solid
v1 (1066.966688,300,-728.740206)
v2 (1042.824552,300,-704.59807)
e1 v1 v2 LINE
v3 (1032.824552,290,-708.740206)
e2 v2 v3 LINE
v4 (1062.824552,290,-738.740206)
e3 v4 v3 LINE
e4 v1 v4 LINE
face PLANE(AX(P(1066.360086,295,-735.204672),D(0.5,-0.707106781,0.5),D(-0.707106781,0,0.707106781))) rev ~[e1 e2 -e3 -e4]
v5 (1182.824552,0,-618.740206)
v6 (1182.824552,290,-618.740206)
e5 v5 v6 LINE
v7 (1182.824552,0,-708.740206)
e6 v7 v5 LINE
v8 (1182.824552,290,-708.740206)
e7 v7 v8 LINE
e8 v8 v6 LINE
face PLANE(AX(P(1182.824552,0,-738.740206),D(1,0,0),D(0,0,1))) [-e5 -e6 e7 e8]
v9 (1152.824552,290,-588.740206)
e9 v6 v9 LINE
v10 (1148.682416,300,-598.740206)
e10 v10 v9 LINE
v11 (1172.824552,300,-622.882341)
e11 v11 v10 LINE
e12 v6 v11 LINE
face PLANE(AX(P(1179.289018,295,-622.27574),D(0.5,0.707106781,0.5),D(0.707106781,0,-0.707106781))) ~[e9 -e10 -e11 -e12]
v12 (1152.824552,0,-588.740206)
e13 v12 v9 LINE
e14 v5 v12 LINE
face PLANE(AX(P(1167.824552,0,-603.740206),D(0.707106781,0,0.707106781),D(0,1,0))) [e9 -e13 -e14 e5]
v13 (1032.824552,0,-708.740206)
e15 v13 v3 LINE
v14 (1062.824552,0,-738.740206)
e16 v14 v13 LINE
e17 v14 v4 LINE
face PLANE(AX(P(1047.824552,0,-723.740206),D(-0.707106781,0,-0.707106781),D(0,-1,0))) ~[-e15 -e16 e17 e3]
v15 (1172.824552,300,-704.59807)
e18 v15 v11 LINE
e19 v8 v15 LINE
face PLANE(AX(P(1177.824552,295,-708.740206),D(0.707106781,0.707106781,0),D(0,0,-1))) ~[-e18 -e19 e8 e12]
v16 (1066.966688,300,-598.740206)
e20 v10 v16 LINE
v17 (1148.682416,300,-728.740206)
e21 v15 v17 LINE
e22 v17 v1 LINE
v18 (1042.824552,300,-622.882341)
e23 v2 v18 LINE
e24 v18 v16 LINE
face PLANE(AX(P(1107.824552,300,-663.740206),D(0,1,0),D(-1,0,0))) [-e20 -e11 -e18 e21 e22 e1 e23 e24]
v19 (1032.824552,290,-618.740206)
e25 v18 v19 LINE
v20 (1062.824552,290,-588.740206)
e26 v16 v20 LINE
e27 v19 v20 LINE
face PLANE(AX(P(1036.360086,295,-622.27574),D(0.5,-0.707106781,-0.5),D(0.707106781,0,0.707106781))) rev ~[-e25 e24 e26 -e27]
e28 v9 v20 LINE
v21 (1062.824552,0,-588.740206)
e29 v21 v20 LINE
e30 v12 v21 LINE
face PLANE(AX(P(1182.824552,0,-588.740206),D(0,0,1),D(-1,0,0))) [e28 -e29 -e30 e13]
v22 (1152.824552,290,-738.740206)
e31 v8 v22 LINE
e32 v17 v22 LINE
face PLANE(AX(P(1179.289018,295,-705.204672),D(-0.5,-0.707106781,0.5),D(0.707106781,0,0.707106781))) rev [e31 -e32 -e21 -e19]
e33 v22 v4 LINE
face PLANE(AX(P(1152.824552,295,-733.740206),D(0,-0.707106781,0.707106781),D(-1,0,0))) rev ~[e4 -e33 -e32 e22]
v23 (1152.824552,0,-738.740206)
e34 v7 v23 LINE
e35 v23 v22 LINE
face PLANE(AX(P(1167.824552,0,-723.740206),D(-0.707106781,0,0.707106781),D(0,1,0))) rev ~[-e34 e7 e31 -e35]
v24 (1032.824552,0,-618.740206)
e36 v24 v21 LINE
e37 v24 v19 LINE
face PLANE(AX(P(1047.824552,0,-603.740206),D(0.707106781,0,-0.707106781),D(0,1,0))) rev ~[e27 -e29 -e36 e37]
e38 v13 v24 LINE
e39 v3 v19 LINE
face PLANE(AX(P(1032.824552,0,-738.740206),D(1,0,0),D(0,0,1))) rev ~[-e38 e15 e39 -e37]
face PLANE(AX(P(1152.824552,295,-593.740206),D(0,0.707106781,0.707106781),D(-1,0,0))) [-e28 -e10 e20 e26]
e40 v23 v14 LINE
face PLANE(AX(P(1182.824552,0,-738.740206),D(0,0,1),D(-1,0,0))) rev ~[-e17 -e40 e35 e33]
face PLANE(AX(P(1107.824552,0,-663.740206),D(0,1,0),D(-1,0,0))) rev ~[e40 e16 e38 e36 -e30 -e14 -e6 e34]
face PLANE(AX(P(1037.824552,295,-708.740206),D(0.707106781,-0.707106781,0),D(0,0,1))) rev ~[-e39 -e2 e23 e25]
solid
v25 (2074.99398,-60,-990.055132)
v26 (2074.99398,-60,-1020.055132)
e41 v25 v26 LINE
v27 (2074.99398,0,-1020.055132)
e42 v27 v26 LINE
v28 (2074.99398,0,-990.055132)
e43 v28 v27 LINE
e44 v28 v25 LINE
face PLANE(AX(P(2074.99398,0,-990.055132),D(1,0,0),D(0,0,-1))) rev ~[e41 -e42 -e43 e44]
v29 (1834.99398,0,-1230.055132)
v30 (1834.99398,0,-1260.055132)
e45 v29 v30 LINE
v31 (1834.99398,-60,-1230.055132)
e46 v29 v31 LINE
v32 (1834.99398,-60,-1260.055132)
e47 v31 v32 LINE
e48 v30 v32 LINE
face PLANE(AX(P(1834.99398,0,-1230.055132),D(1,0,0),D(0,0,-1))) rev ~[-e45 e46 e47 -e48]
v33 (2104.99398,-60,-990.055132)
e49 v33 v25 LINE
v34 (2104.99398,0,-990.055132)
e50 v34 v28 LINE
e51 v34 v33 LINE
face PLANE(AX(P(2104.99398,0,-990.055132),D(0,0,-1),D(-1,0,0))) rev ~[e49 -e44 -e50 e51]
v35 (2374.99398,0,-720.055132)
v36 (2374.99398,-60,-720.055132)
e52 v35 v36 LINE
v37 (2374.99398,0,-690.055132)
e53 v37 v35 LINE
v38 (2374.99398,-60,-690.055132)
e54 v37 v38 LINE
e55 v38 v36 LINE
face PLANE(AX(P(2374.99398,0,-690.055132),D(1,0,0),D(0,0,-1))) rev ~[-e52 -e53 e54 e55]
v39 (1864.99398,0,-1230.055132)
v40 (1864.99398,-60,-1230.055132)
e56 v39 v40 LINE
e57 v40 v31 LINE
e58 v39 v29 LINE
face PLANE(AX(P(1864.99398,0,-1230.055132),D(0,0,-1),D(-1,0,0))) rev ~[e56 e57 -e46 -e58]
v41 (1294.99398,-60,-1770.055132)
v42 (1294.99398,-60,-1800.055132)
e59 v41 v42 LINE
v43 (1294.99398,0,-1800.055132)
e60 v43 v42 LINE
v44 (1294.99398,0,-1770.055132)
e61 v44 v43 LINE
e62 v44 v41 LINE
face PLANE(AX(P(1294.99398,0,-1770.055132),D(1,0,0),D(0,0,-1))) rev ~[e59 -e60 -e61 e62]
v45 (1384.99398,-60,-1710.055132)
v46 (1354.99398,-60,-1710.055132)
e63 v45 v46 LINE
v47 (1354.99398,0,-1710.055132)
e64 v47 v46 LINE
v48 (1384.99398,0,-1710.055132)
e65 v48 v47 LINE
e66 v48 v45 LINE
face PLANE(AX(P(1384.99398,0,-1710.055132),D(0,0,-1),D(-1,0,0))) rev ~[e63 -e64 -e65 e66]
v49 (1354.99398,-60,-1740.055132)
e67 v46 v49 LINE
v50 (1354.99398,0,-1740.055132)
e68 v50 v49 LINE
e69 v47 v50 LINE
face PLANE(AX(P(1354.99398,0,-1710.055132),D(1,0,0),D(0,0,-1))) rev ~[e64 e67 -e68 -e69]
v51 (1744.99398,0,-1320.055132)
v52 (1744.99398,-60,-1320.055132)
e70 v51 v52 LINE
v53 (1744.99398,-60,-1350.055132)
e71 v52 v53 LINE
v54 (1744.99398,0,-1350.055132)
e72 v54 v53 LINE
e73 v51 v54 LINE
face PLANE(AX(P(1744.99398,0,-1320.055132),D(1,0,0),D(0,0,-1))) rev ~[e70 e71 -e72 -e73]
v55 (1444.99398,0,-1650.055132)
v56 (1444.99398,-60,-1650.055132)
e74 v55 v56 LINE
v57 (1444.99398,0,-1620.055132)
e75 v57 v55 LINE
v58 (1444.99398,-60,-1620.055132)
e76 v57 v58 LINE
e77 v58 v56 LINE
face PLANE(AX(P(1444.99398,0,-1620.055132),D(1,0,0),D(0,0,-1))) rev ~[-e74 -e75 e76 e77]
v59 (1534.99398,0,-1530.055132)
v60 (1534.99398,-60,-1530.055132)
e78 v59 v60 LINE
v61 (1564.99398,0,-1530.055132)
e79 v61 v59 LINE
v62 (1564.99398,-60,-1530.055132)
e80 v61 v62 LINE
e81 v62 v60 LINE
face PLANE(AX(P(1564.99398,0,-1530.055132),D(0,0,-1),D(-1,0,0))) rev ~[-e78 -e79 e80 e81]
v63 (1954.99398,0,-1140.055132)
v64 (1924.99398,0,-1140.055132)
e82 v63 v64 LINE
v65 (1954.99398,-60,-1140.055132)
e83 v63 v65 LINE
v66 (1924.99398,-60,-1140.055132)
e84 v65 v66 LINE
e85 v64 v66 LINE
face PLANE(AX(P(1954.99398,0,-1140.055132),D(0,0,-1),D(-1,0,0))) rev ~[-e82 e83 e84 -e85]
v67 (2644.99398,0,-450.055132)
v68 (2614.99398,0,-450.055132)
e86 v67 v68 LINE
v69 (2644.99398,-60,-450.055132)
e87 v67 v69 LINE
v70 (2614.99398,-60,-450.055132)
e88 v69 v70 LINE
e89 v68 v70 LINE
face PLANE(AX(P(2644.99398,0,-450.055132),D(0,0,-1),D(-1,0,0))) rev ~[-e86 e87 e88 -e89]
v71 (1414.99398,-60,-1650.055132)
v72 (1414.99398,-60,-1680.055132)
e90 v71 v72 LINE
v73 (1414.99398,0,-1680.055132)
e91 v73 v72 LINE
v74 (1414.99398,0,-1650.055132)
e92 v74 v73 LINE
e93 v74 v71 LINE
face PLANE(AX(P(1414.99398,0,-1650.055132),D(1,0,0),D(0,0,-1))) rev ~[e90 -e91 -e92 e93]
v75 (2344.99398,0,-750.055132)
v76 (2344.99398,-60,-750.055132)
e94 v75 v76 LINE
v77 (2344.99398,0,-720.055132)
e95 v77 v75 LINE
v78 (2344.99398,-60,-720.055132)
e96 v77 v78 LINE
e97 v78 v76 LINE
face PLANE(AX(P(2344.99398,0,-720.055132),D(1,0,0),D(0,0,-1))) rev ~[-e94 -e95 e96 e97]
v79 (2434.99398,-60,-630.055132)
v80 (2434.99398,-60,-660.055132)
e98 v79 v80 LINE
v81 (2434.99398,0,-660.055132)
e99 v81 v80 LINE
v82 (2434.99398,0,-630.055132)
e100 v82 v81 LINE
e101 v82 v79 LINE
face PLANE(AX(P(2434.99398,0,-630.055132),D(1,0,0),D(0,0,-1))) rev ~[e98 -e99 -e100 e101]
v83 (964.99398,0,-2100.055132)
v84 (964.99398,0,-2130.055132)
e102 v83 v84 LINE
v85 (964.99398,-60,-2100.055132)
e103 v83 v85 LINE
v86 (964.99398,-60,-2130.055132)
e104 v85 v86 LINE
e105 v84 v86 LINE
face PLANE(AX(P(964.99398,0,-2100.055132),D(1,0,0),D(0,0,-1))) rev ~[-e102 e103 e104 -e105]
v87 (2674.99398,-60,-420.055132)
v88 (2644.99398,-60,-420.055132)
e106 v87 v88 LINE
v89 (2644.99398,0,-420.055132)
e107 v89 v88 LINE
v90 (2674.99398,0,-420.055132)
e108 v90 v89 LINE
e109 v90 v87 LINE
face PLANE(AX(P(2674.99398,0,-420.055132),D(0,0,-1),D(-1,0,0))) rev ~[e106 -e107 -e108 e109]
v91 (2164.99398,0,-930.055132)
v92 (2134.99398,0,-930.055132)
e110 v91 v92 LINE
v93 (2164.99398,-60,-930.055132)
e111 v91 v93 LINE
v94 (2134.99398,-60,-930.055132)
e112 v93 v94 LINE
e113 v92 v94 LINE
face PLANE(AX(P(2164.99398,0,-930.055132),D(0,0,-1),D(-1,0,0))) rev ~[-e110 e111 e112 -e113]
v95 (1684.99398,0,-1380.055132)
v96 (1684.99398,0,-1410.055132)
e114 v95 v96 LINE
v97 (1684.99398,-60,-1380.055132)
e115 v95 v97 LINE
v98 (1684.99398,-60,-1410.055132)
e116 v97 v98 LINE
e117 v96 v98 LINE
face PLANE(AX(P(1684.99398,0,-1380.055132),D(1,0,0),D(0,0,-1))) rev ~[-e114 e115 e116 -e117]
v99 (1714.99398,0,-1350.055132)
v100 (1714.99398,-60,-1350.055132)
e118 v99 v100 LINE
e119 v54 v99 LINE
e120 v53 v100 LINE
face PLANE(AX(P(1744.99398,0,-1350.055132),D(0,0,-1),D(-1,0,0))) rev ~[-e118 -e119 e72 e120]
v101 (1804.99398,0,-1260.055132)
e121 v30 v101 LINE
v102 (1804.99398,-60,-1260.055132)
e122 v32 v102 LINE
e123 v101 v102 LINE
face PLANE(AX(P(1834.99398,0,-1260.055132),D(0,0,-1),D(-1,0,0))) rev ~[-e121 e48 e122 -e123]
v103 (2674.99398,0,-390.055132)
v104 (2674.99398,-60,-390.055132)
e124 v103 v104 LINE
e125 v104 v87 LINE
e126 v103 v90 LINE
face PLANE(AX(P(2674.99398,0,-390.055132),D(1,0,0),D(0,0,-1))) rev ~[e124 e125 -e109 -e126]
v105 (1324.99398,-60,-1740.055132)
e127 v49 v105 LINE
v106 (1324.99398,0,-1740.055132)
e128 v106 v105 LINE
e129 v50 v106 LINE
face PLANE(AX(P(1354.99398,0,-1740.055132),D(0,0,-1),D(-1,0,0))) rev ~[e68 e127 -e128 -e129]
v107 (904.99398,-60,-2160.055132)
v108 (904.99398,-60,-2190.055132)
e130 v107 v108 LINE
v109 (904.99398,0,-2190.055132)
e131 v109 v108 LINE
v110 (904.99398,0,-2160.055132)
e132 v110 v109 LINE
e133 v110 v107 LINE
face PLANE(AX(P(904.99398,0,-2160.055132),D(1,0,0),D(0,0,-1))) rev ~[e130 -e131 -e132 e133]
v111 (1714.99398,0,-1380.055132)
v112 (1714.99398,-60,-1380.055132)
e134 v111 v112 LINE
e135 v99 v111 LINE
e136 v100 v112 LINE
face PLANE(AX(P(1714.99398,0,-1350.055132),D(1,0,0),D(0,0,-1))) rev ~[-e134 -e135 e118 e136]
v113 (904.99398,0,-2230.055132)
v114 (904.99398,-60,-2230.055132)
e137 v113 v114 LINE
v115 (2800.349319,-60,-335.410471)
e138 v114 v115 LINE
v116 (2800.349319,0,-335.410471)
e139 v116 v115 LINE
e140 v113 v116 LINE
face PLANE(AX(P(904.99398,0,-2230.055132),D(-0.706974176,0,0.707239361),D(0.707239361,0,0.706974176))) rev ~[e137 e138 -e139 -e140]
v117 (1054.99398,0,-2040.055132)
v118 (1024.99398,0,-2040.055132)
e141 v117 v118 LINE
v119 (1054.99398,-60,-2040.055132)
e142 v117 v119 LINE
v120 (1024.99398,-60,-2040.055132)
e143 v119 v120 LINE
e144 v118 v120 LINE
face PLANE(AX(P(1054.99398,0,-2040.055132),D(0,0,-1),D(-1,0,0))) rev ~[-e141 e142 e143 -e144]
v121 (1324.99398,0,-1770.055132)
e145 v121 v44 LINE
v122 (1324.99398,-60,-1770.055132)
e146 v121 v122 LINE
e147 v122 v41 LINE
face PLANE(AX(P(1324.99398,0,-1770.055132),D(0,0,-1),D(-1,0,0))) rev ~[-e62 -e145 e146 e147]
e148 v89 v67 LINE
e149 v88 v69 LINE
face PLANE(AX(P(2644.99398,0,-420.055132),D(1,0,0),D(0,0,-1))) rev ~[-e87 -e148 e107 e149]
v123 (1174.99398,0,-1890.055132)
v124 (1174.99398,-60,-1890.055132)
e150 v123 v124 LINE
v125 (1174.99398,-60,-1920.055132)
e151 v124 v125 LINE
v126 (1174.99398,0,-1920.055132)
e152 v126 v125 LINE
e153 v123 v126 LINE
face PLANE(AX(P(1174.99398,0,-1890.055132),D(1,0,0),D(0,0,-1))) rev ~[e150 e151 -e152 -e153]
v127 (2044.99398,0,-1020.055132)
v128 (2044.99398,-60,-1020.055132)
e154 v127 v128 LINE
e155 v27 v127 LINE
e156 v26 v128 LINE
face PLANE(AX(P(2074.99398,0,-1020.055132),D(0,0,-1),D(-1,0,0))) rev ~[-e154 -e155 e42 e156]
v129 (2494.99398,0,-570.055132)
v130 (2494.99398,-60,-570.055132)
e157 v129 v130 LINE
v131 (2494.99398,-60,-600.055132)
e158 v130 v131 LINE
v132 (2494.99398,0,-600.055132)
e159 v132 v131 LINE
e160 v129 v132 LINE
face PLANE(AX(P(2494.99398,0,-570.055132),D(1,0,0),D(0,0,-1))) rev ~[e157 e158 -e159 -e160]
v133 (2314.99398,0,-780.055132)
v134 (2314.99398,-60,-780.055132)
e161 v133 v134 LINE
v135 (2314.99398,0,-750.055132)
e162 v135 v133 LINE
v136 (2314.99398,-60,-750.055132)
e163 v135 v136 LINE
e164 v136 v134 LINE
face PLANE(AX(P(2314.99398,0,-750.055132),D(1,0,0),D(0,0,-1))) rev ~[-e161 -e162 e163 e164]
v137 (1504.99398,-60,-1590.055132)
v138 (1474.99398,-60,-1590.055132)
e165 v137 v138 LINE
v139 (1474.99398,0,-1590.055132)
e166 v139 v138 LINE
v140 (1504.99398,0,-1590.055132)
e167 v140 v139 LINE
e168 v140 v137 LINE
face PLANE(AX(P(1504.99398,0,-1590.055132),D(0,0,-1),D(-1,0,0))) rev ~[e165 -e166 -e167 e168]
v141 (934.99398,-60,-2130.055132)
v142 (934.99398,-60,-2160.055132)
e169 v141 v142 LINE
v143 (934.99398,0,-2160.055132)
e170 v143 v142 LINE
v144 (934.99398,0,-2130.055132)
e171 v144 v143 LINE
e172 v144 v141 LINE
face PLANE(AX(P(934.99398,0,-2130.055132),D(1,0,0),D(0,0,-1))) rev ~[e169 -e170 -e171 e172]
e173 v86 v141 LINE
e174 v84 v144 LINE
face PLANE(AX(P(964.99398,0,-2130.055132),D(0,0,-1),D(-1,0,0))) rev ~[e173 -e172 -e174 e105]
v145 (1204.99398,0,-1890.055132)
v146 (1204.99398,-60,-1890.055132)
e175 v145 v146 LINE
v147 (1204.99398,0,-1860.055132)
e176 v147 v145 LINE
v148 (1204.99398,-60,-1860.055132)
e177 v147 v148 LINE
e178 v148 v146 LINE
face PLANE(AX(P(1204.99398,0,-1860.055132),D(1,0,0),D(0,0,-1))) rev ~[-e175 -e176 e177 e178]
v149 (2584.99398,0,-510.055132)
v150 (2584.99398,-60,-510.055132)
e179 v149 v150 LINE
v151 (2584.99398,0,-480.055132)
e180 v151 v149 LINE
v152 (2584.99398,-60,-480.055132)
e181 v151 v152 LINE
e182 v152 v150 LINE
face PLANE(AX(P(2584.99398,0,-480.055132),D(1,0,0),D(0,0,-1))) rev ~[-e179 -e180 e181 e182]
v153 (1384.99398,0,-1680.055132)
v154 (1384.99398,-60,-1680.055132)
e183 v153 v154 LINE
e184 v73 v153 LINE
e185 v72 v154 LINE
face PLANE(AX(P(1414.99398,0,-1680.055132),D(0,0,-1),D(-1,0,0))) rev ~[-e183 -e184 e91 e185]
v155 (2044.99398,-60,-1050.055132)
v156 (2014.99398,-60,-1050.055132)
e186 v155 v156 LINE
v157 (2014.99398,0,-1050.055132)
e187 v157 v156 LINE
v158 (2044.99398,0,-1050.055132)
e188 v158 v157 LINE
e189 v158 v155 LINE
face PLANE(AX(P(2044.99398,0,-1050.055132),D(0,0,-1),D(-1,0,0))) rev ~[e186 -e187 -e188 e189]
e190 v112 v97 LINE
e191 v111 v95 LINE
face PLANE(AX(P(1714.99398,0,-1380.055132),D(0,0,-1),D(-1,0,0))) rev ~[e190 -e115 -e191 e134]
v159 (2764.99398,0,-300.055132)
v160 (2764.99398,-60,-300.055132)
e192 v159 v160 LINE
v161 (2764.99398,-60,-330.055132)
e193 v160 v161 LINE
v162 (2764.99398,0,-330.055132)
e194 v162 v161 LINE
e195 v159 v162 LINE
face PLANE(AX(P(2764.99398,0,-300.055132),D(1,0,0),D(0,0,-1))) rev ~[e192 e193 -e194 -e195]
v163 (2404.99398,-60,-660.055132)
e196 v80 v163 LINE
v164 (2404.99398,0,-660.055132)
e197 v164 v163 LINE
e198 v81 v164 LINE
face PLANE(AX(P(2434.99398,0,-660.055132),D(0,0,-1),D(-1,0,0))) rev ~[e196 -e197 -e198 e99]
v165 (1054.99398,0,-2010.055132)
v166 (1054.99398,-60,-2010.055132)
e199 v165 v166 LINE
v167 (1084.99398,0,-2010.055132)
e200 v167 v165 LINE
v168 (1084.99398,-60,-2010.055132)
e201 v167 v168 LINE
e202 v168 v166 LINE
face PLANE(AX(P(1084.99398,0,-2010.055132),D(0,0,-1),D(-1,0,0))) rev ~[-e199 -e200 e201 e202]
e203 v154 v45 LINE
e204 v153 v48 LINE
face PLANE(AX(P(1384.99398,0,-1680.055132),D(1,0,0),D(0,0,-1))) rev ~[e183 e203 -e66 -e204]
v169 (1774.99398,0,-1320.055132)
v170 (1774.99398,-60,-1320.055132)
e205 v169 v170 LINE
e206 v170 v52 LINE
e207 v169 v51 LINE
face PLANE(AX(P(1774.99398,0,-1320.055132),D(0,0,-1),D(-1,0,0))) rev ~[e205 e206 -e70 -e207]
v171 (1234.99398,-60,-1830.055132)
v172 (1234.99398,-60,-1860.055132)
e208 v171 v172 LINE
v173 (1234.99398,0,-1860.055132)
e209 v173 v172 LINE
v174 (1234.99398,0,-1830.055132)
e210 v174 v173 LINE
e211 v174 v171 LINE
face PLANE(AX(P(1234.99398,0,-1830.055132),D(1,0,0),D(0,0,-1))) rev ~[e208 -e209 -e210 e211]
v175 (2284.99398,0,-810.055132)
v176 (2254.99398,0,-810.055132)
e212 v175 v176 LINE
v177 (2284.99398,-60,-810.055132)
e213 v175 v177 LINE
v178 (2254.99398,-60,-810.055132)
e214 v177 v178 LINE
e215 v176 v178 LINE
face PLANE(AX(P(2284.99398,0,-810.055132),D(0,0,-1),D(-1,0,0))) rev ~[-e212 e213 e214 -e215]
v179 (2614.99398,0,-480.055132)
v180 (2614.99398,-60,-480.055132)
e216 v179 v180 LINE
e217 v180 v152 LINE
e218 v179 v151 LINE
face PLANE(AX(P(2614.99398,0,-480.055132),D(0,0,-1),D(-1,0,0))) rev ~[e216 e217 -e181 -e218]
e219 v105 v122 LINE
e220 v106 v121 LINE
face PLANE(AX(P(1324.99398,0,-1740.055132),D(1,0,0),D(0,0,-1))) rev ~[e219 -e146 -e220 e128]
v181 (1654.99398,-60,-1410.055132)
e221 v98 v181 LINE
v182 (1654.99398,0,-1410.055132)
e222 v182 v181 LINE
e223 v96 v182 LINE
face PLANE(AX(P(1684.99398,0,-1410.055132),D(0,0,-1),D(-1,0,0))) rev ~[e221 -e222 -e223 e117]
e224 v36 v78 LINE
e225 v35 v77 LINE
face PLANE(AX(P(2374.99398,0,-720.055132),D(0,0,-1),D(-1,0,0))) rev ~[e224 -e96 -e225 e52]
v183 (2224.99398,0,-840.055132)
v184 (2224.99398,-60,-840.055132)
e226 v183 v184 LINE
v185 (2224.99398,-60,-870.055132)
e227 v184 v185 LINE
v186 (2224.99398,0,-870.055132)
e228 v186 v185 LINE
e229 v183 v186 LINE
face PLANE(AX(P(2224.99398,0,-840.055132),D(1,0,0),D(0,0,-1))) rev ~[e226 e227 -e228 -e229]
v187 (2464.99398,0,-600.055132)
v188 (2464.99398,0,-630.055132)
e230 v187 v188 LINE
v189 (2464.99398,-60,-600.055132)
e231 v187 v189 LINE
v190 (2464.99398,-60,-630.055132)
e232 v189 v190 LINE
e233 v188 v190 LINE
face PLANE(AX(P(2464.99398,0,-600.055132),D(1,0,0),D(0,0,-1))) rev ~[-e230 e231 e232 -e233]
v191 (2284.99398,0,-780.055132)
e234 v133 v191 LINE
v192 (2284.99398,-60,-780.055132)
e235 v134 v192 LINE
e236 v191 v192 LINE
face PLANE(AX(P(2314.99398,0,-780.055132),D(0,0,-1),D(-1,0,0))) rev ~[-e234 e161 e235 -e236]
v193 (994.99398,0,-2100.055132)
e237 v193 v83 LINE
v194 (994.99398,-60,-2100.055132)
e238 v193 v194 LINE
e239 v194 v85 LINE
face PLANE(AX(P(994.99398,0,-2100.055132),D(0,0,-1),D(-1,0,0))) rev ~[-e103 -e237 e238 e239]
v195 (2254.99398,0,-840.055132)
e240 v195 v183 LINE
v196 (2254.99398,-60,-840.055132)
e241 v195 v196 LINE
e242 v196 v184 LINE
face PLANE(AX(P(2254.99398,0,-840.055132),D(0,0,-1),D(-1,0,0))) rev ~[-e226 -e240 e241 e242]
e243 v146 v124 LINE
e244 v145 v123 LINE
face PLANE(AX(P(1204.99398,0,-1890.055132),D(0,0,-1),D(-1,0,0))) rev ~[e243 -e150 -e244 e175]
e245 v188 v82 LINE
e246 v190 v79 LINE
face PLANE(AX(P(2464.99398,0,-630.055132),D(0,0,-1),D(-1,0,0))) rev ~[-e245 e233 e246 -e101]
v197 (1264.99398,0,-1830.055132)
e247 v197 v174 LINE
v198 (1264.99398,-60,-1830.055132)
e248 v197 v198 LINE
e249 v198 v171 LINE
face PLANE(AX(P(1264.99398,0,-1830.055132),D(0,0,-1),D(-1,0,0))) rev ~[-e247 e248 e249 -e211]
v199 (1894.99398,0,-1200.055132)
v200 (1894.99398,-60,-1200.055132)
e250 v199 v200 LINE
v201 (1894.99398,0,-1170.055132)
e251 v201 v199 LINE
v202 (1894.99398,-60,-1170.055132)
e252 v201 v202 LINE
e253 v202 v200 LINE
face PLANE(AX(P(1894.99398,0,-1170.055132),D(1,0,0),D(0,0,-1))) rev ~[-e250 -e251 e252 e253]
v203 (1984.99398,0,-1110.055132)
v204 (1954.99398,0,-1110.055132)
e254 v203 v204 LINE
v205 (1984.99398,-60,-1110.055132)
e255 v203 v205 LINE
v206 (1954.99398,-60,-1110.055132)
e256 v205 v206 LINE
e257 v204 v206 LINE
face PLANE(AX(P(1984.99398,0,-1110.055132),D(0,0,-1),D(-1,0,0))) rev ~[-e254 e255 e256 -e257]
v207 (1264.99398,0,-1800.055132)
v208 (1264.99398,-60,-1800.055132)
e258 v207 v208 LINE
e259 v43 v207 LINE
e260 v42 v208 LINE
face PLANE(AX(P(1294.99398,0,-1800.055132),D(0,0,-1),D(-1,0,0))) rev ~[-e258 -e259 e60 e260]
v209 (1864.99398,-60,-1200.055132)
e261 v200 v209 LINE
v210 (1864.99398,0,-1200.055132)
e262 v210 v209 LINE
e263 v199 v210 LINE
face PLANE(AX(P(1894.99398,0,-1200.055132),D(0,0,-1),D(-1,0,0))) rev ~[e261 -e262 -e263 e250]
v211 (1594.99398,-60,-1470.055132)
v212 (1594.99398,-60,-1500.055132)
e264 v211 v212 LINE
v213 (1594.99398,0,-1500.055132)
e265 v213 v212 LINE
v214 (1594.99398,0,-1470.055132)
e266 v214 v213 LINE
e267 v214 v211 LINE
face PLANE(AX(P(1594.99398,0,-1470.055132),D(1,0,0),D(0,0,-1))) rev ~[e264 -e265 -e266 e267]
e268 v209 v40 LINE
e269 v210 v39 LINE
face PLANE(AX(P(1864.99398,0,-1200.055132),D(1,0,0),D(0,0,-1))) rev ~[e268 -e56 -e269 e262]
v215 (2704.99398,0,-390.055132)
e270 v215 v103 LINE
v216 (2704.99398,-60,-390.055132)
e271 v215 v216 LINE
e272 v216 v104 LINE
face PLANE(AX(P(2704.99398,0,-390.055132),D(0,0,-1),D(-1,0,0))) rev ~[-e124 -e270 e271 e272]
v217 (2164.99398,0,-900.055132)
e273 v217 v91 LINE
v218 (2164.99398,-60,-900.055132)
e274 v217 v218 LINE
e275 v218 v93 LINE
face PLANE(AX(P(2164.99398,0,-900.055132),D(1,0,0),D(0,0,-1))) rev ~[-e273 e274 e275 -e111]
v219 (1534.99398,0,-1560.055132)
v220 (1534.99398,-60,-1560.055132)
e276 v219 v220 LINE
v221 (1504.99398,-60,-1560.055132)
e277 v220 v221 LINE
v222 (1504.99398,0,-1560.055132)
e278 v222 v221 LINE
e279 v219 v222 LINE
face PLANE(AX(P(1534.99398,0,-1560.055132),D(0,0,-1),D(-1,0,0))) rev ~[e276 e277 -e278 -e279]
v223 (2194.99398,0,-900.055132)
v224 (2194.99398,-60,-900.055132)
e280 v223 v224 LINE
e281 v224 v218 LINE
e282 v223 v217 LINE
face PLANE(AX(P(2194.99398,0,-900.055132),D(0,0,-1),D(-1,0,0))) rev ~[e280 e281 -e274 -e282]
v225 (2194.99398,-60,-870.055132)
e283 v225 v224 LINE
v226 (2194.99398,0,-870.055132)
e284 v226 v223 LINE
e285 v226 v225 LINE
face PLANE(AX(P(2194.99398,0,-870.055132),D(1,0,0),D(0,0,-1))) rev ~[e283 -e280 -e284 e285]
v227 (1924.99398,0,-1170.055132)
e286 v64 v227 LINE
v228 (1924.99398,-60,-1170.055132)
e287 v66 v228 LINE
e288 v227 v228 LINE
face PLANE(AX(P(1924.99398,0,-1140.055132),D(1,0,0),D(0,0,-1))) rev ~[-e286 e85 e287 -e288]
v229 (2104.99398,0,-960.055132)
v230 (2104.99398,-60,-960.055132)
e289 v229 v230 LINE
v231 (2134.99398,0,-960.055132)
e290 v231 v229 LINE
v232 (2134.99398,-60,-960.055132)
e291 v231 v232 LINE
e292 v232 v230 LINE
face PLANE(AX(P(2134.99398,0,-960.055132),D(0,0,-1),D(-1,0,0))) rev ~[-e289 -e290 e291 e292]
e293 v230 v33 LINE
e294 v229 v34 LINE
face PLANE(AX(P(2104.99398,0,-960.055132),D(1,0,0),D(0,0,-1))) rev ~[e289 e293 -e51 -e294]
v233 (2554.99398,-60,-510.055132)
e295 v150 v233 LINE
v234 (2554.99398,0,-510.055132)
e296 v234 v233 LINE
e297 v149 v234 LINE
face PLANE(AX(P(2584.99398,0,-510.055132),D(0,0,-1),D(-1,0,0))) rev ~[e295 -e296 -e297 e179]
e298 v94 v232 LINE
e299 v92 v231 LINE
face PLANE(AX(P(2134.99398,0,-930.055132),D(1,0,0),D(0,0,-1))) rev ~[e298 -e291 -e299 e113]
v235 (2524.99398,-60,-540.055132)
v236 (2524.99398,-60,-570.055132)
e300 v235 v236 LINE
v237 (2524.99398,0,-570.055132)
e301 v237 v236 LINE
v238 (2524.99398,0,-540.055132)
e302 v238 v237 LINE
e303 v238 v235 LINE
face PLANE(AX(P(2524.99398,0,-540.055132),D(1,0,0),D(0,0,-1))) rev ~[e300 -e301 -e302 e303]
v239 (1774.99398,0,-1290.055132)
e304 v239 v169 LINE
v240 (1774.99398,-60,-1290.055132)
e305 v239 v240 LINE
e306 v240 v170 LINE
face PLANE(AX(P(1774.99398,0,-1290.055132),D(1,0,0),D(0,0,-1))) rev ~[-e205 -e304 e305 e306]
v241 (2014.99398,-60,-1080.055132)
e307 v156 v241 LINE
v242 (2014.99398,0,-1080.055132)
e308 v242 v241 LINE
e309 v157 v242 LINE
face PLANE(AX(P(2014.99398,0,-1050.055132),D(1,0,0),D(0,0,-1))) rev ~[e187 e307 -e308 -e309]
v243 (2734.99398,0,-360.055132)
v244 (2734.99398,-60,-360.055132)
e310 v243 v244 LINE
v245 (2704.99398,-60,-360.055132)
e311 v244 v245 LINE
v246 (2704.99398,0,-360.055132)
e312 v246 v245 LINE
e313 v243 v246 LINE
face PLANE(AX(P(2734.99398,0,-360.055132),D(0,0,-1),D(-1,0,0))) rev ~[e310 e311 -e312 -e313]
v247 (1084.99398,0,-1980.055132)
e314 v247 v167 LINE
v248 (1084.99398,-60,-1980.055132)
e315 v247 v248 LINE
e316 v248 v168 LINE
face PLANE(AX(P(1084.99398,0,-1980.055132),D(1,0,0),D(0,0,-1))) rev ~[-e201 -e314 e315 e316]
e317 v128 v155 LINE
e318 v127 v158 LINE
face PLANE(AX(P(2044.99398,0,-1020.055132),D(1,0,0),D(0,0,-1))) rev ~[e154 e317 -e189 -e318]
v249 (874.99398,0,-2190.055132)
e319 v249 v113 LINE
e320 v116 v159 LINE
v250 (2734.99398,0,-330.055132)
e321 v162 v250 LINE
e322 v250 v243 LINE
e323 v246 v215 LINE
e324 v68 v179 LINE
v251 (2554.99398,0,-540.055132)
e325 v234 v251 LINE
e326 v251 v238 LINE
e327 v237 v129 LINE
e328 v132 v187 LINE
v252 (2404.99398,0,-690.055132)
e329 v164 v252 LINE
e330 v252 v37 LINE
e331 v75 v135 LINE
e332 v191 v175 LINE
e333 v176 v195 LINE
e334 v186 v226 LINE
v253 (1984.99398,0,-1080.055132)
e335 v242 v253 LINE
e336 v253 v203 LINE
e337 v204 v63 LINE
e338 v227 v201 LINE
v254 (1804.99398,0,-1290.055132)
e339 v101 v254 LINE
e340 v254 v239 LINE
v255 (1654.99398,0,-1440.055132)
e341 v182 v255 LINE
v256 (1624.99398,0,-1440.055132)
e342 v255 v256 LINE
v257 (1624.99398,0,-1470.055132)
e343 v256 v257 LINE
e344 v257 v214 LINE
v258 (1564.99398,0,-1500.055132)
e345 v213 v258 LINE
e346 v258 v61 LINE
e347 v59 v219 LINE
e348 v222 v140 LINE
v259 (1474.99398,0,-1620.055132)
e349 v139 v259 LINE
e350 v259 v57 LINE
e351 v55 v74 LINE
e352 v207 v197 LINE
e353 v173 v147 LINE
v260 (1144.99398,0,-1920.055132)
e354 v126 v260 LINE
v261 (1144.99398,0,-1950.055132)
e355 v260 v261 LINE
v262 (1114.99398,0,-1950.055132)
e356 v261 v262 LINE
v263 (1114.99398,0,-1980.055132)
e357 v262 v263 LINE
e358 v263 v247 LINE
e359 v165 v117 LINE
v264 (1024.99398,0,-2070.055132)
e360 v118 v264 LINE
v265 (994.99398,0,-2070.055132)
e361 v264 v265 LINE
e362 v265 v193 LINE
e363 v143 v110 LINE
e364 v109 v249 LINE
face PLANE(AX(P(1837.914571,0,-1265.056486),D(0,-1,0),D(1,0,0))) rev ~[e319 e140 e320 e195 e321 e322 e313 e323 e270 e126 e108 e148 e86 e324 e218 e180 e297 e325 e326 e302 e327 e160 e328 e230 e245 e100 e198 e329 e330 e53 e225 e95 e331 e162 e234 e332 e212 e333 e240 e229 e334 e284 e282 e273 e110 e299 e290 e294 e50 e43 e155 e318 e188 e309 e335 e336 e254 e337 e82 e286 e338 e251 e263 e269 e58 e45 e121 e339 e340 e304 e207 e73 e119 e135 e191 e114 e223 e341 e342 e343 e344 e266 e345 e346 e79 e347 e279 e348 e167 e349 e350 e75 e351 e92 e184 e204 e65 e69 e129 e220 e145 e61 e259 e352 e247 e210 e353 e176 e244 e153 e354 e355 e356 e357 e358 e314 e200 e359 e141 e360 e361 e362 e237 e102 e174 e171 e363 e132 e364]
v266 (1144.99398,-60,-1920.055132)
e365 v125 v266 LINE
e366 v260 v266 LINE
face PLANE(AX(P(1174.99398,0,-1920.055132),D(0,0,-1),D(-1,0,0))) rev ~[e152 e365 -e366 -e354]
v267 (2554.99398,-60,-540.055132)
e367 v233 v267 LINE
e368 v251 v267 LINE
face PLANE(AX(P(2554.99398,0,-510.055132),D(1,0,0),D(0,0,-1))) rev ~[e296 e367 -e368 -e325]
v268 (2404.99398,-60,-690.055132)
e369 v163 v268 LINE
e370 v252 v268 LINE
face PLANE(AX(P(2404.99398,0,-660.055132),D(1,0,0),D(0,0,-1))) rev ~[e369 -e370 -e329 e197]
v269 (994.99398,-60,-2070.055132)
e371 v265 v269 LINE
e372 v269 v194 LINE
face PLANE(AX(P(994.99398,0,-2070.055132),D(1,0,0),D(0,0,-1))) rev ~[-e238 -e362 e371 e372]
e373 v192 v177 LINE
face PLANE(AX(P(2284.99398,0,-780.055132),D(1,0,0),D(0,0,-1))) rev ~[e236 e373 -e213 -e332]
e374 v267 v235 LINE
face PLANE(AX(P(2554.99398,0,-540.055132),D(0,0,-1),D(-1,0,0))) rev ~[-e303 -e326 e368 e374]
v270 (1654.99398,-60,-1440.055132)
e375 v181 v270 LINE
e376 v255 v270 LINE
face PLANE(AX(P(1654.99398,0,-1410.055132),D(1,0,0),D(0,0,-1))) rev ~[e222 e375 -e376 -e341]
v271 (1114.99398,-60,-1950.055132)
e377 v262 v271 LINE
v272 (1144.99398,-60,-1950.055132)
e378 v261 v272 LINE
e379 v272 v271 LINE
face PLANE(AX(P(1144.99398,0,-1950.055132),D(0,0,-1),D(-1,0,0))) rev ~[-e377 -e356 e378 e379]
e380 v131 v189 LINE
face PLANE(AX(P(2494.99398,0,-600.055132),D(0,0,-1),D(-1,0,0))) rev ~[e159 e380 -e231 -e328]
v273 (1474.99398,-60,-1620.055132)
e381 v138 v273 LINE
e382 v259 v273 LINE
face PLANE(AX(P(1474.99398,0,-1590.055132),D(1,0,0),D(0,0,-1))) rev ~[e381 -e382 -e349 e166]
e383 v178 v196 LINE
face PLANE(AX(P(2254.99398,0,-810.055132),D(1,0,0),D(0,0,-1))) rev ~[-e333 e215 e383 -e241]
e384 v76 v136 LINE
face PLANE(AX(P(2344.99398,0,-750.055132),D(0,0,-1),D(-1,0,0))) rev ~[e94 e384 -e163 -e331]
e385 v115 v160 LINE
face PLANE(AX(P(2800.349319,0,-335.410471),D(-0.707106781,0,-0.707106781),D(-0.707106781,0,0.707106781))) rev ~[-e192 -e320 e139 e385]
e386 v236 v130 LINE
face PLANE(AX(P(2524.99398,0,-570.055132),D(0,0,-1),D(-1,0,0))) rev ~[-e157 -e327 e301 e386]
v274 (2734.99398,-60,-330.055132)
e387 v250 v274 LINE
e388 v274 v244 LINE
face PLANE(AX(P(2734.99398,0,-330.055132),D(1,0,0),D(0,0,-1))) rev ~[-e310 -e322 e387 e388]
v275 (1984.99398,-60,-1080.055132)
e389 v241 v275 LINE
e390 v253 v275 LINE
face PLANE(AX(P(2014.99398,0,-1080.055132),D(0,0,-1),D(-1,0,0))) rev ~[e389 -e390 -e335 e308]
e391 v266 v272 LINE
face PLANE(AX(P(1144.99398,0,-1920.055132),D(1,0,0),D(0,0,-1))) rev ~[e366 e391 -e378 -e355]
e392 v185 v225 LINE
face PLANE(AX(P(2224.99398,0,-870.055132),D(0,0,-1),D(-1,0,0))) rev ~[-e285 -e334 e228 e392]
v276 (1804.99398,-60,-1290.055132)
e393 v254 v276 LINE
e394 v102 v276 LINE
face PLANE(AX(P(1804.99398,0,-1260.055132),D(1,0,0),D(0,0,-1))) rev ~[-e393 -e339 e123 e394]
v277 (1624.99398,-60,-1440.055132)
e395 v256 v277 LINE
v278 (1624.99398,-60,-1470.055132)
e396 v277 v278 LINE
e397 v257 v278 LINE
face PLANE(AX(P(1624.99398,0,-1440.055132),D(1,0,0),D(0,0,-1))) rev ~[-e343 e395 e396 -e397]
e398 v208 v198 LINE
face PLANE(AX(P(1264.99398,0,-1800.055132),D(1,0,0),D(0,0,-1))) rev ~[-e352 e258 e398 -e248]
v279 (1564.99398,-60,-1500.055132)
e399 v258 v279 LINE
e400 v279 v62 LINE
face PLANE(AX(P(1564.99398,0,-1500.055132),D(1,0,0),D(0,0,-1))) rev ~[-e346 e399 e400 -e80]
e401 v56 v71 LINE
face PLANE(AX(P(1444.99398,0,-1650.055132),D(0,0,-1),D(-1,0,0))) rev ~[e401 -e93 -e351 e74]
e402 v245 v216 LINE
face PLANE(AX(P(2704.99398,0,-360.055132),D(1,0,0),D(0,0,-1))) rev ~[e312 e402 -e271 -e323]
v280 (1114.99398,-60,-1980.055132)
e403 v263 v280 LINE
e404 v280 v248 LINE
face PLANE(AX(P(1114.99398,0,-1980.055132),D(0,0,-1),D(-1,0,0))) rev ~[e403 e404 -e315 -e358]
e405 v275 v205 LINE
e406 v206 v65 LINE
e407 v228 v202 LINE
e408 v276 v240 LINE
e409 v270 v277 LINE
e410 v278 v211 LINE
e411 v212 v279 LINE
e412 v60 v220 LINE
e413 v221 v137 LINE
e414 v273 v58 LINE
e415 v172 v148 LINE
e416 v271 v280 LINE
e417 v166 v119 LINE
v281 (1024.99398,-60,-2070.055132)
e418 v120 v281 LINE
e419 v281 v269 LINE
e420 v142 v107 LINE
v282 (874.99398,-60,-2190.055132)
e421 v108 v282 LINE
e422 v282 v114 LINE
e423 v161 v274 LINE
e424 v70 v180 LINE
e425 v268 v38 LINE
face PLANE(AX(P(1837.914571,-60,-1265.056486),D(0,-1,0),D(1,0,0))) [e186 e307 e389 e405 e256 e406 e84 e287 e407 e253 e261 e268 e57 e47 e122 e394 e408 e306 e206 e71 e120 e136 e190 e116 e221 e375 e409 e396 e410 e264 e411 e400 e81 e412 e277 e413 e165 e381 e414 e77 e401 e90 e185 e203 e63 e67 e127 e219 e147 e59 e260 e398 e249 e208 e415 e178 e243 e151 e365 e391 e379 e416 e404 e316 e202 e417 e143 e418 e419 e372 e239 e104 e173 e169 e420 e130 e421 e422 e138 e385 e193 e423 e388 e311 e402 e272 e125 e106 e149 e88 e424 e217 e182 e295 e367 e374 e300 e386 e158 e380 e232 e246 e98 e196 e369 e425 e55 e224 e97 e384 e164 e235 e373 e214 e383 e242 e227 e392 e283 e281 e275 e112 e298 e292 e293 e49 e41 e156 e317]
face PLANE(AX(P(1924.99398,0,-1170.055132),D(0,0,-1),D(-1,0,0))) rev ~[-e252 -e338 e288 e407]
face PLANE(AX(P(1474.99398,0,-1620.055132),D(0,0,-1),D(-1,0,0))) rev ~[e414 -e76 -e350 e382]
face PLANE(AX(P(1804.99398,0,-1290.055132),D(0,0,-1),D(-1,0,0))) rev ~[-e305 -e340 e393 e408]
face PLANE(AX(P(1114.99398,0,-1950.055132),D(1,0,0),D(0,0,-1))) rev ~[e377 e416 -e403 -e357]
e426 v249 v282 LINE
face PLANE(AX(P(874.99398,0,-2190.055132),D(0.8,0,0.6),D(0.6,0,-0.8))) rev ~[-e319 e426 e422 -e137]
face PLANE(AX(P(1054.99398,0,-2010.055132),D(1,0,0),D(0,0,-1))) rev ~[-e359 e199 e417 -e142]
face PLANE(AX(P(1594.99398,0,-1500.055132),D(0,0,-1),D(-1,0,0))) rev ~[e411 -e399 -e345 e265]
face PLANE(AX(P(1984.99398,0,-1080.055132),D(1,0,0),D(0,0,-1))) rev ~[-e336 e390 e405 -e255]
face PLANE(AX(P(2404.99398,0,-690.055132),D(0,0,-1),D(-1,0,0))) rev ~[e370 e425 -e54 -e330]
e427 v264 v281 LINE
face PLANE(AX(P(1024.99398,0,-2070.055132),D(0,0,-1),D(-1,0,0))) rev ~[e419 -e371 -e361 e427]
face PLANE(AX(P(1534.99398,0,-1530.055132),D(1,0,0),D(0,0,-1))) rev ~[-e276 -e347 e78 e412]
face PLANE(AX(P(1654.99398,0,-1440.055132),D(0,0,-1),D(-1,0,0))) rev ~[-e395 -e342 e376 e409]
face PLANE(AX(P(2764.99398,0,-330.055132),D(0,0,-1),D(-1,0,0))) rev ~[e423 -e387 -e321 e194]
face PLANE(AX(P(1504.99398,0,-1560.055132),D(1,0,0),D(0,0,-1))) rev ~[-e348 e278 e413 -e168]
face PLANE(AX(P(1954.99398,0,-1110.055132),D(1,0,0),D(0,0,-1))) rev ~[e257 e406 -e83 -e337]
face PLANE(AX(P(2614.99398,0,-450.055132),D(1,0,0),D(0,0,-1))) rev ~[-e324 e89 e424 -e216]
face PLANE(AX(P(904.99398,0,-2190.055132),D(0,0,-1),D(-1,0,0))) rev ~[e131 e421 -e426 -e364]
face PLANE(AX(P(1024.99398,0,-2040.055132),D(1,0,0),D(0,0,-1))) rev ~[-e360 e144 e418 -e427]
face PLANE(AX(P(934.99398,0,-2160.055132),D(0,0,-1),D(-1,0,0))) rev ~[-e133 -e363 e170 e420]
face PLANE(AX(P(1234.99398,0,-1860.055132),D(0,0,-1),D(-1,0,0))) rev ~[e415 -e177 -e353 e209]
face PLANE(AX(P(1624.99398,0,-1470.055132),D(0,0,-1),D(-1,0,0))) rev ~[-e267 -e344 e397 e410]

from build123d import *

# Parameters (mm, degrees)
F1_DEPTH = 60
F2_W     = 150
F2_H     = 150
F3_DEPTH = 300
F4_SIZE  = 30
F5_SIZE  = 10


with BuildPart() as f1:
    # F0 (on Front) → F1 (new body)
    with BuildSketch(Plane.XZ):
        Polygon((2764.9939799309, -330.0551319122), (2734.9939799309, -330.0551319122), (2734.9939799309, -360.0551319122), (2704.9939799309, -360.0551319122), (2704.9939799309, -390.0551319122), (2674.9939799309, -390.0551319122), (2674.9939799309, -420.0551319122), (2644.9939799309, -420.0551319122), (2644.9939799309, -450.0551319122), (2614.9939799309, -450.0551319122), (2614.9939799309, -480.0551319122), (2584.9939799309, -480.0551319122), (2584.9939799309, -510.0551319122), (2554.9939799309, -510.0551319122), (2554.9939799309, -540.0551319122), (2524.9939799309, -540.0551319122), (2524.9939799309, -570.0551319122), (2494.9939799309, -570.0551319122), (2494.9939799309, -600.0551319122), (2464.9939799309, -600.0551319122), (2464.9939799309, -630.0551319122), (2434.9939799309, -630.0551319122), (2434.9939799309, -660.0551319122), (2404.9939799309, -660.0551319122), (2404.9939799309, -690.0551319122), (2374.9939799309, -690.0551319122), (2374.9939799309, -720.0551319122), (2344.9939799309, -720.0551319122), (2344.9939799309, -750.0551319122), (2314.9939799309, -750.0551319122), (2314.9939799309, -780.0551319122), (2284.9939799309, -780.0551319122), (2284.9939799309, -810.0551319122), (2254.9939799309, -810.0551319122), (2254.9939799309, -840.0551319122), (2224.9939799309, -840.0551319122), (2224.9939799309, -870.0551319122), (2194.9939799309, -870.0551319122), (2194.9939799309, -900.0551319122), (2164.9939799309, -900.0551319122), (2164.9939799309, -930.0551319122), (2134.9939799309, -930.0551319122), (2134.9939799309, -960.0551319122), (2104.9939799309, -960.0551319122), (2104.9939799309, -990.0551319122), (2074.9939799309, -990.0551319122), (2074.9939799309, -1020.0551319122), (2044.9939799309, -1020.0551319122), (2044.9939799309, -1050.0551319122), (2014.9939799309, -1050.0551319122), (2014.9939799309, -1080.0551319122), (1984.9939799309, -1080.0551319122), (1984.9939799309, -1110.0551319122), (1954.9939799309, -1110.0551319122), (1954.9939799309, -1140.0551319122), (1924.9939799309, -1140.0551319122), (1924.9939799309, -1170.0551319122), (1894.9939799309, -1170.0551319122), (1894.9939799309, -1200.0551319122), (1864.9939799309, -1200.0551319122), (1864.9939799309, -1230.0551319122), (1834.9939799309, -1230.0551319122), (1834.9939799309, -1260.0551319122), (1804.9939799309, -1260.0551319122), (1804.9939799309, -1290.0551319122), (1774.9939799309, -1290.0551319122), (1774.9939799309, -1320.0551319122), (1744.9939799309, -1320.0551319122), (1744.9939799309, -1350.0551319122), (1714.9939799309, -1350.0551319122), (1714.9939799309, -1380.0551319122), (1684.9939799309, -1380.0551319122), (1684.9939799309, -1410.0551319122), (1654.9939799309, -1410.0551319122), (1654.9939799309, -1440.0551319122), (1624.9939799309, -1440.0551319122), (1624.9939799309, -1470.0551319122), (1594.9939799309, -1470.0551319122), (1594.9939799309, -1500.0551319122), (1564.9939799309, -1500.0551319122), (1564.9939799309, -1530.0551319122), (1534.9939799309, -1530.0551319122), (1534.9939799309, -1560.0551319122), (1504.9939799309, -1560.0551319122), (1504.9939799309, -1590.0551319122), (1474.9939799309, -1590.0551319122), (1474.9939799309, -1620.0551319122), (1444.9939799309, -1620.0551319122), (1444.9939799309, -1650.0551319122), (1414.9939799309, -1650.0551319122), (1414.9939799309, -1680.0551319122), (1384.9939799309, -1680.0551319122), (1384.9939799309, -1710.0551319122), (1354.9939799309, -1710.0551319122), (1354.9939799309, -1740.0551319122), (1324.9939799309, -1740.0551319122), (1324.9939799309, -1770.0551319122), (1294.9939799309, -1770.0551319122), (1294.9939799309, -1800.0551319122), (1264.9939799309, -1800.0551319122), (1264.9939799309, -1830.0551319122), (1234.9939799309, -1830.0551319122), (1234.9939799309, -1860.0551319122), (1204.9939799309, -1860.0551319122), (1204.9939799309, -1890.0551319122), (1174.9939799309, -1890.0551319122), (1174.9939799309, -1920.0551319122), (1144.9939799309, -1920.0551319122), (1144.9939799309, -1950.0551319122), (1114.9939799309, -1950.0551319122), (1114.9939799309, -1980.0551319122), (1084.9939799309, -1980.0551319122), (1084.9939799309, -2010.0551319122), (1054.9939799309, -2010.0551319122), (1054.9939799309, -2040.0551319122), (1024.9939799309, -2040.0551319122), (1024.9939799309, -2070.0551319122), (994.9939799309, -2070.0551319122), (994.9939799309, -2100.0551319122), (964.9939799309, -2100.0551319122), (964.9939799309, -2130.0551319122), (934.9939799309, -2130.0551319122), (934.9939799309, -2160.0551319122), (904.9939799309, -2160.0551319122), (904.9939799309, -2190.0551319122), (874.9939799309, -2190.0551319122), (904.9939799309, -2230.0551319122), (2800.3493189902, -335.4104709716), (2764.9939799309, -300.0551319122), align=None)
    extrude(amount=F1_DEPTH)


with BuildPart() as f3:
    # F2 (on face) → F3 (new body)
    with BuildSketch(Plane(origin=(0, 0, 0), x_dir=(-1, 0, 0), z_dir=(0, 1, 0))):
        with Locations((-1107.8245520592, -663.7402057648)):
            Rectangle(F2_W, F2_H)
    extrude(amount=F3_DEPTH)

    # F4
    f4_edges = [f3.edges().sort_by_distance(p)[0] for p in [
        (1182.824552, 150, -588.740206),
        (1032.824552, 150, -588.740206),
        (1182.824552, 150, -738.740206),
        (1032.824552, 150, -738.740206),
    ]]
    chamfer(f4_edges, length=F4_SIZE)

    # F5
    f5_edges = [f3.edges().sort_by_distance(p)[0] for p in [
        (1107.824552, 300, -588.740206),
        (1032.824552, 300, -663.740206),
        (1107.824552, 300, -738.740206),
        (1182.824552, 300, -663.740206),
        (1047.824552, 300, -603.740206),
        (1167.824552, 300, -603.740206),
        (1167.824552, 300, -723.740206),
        (1047.824552, 300, -723.740206),
    ]]
    chamfer(f5_edges, length=F5_SIZE)


solid = Compound([f1.part, f3.part])
